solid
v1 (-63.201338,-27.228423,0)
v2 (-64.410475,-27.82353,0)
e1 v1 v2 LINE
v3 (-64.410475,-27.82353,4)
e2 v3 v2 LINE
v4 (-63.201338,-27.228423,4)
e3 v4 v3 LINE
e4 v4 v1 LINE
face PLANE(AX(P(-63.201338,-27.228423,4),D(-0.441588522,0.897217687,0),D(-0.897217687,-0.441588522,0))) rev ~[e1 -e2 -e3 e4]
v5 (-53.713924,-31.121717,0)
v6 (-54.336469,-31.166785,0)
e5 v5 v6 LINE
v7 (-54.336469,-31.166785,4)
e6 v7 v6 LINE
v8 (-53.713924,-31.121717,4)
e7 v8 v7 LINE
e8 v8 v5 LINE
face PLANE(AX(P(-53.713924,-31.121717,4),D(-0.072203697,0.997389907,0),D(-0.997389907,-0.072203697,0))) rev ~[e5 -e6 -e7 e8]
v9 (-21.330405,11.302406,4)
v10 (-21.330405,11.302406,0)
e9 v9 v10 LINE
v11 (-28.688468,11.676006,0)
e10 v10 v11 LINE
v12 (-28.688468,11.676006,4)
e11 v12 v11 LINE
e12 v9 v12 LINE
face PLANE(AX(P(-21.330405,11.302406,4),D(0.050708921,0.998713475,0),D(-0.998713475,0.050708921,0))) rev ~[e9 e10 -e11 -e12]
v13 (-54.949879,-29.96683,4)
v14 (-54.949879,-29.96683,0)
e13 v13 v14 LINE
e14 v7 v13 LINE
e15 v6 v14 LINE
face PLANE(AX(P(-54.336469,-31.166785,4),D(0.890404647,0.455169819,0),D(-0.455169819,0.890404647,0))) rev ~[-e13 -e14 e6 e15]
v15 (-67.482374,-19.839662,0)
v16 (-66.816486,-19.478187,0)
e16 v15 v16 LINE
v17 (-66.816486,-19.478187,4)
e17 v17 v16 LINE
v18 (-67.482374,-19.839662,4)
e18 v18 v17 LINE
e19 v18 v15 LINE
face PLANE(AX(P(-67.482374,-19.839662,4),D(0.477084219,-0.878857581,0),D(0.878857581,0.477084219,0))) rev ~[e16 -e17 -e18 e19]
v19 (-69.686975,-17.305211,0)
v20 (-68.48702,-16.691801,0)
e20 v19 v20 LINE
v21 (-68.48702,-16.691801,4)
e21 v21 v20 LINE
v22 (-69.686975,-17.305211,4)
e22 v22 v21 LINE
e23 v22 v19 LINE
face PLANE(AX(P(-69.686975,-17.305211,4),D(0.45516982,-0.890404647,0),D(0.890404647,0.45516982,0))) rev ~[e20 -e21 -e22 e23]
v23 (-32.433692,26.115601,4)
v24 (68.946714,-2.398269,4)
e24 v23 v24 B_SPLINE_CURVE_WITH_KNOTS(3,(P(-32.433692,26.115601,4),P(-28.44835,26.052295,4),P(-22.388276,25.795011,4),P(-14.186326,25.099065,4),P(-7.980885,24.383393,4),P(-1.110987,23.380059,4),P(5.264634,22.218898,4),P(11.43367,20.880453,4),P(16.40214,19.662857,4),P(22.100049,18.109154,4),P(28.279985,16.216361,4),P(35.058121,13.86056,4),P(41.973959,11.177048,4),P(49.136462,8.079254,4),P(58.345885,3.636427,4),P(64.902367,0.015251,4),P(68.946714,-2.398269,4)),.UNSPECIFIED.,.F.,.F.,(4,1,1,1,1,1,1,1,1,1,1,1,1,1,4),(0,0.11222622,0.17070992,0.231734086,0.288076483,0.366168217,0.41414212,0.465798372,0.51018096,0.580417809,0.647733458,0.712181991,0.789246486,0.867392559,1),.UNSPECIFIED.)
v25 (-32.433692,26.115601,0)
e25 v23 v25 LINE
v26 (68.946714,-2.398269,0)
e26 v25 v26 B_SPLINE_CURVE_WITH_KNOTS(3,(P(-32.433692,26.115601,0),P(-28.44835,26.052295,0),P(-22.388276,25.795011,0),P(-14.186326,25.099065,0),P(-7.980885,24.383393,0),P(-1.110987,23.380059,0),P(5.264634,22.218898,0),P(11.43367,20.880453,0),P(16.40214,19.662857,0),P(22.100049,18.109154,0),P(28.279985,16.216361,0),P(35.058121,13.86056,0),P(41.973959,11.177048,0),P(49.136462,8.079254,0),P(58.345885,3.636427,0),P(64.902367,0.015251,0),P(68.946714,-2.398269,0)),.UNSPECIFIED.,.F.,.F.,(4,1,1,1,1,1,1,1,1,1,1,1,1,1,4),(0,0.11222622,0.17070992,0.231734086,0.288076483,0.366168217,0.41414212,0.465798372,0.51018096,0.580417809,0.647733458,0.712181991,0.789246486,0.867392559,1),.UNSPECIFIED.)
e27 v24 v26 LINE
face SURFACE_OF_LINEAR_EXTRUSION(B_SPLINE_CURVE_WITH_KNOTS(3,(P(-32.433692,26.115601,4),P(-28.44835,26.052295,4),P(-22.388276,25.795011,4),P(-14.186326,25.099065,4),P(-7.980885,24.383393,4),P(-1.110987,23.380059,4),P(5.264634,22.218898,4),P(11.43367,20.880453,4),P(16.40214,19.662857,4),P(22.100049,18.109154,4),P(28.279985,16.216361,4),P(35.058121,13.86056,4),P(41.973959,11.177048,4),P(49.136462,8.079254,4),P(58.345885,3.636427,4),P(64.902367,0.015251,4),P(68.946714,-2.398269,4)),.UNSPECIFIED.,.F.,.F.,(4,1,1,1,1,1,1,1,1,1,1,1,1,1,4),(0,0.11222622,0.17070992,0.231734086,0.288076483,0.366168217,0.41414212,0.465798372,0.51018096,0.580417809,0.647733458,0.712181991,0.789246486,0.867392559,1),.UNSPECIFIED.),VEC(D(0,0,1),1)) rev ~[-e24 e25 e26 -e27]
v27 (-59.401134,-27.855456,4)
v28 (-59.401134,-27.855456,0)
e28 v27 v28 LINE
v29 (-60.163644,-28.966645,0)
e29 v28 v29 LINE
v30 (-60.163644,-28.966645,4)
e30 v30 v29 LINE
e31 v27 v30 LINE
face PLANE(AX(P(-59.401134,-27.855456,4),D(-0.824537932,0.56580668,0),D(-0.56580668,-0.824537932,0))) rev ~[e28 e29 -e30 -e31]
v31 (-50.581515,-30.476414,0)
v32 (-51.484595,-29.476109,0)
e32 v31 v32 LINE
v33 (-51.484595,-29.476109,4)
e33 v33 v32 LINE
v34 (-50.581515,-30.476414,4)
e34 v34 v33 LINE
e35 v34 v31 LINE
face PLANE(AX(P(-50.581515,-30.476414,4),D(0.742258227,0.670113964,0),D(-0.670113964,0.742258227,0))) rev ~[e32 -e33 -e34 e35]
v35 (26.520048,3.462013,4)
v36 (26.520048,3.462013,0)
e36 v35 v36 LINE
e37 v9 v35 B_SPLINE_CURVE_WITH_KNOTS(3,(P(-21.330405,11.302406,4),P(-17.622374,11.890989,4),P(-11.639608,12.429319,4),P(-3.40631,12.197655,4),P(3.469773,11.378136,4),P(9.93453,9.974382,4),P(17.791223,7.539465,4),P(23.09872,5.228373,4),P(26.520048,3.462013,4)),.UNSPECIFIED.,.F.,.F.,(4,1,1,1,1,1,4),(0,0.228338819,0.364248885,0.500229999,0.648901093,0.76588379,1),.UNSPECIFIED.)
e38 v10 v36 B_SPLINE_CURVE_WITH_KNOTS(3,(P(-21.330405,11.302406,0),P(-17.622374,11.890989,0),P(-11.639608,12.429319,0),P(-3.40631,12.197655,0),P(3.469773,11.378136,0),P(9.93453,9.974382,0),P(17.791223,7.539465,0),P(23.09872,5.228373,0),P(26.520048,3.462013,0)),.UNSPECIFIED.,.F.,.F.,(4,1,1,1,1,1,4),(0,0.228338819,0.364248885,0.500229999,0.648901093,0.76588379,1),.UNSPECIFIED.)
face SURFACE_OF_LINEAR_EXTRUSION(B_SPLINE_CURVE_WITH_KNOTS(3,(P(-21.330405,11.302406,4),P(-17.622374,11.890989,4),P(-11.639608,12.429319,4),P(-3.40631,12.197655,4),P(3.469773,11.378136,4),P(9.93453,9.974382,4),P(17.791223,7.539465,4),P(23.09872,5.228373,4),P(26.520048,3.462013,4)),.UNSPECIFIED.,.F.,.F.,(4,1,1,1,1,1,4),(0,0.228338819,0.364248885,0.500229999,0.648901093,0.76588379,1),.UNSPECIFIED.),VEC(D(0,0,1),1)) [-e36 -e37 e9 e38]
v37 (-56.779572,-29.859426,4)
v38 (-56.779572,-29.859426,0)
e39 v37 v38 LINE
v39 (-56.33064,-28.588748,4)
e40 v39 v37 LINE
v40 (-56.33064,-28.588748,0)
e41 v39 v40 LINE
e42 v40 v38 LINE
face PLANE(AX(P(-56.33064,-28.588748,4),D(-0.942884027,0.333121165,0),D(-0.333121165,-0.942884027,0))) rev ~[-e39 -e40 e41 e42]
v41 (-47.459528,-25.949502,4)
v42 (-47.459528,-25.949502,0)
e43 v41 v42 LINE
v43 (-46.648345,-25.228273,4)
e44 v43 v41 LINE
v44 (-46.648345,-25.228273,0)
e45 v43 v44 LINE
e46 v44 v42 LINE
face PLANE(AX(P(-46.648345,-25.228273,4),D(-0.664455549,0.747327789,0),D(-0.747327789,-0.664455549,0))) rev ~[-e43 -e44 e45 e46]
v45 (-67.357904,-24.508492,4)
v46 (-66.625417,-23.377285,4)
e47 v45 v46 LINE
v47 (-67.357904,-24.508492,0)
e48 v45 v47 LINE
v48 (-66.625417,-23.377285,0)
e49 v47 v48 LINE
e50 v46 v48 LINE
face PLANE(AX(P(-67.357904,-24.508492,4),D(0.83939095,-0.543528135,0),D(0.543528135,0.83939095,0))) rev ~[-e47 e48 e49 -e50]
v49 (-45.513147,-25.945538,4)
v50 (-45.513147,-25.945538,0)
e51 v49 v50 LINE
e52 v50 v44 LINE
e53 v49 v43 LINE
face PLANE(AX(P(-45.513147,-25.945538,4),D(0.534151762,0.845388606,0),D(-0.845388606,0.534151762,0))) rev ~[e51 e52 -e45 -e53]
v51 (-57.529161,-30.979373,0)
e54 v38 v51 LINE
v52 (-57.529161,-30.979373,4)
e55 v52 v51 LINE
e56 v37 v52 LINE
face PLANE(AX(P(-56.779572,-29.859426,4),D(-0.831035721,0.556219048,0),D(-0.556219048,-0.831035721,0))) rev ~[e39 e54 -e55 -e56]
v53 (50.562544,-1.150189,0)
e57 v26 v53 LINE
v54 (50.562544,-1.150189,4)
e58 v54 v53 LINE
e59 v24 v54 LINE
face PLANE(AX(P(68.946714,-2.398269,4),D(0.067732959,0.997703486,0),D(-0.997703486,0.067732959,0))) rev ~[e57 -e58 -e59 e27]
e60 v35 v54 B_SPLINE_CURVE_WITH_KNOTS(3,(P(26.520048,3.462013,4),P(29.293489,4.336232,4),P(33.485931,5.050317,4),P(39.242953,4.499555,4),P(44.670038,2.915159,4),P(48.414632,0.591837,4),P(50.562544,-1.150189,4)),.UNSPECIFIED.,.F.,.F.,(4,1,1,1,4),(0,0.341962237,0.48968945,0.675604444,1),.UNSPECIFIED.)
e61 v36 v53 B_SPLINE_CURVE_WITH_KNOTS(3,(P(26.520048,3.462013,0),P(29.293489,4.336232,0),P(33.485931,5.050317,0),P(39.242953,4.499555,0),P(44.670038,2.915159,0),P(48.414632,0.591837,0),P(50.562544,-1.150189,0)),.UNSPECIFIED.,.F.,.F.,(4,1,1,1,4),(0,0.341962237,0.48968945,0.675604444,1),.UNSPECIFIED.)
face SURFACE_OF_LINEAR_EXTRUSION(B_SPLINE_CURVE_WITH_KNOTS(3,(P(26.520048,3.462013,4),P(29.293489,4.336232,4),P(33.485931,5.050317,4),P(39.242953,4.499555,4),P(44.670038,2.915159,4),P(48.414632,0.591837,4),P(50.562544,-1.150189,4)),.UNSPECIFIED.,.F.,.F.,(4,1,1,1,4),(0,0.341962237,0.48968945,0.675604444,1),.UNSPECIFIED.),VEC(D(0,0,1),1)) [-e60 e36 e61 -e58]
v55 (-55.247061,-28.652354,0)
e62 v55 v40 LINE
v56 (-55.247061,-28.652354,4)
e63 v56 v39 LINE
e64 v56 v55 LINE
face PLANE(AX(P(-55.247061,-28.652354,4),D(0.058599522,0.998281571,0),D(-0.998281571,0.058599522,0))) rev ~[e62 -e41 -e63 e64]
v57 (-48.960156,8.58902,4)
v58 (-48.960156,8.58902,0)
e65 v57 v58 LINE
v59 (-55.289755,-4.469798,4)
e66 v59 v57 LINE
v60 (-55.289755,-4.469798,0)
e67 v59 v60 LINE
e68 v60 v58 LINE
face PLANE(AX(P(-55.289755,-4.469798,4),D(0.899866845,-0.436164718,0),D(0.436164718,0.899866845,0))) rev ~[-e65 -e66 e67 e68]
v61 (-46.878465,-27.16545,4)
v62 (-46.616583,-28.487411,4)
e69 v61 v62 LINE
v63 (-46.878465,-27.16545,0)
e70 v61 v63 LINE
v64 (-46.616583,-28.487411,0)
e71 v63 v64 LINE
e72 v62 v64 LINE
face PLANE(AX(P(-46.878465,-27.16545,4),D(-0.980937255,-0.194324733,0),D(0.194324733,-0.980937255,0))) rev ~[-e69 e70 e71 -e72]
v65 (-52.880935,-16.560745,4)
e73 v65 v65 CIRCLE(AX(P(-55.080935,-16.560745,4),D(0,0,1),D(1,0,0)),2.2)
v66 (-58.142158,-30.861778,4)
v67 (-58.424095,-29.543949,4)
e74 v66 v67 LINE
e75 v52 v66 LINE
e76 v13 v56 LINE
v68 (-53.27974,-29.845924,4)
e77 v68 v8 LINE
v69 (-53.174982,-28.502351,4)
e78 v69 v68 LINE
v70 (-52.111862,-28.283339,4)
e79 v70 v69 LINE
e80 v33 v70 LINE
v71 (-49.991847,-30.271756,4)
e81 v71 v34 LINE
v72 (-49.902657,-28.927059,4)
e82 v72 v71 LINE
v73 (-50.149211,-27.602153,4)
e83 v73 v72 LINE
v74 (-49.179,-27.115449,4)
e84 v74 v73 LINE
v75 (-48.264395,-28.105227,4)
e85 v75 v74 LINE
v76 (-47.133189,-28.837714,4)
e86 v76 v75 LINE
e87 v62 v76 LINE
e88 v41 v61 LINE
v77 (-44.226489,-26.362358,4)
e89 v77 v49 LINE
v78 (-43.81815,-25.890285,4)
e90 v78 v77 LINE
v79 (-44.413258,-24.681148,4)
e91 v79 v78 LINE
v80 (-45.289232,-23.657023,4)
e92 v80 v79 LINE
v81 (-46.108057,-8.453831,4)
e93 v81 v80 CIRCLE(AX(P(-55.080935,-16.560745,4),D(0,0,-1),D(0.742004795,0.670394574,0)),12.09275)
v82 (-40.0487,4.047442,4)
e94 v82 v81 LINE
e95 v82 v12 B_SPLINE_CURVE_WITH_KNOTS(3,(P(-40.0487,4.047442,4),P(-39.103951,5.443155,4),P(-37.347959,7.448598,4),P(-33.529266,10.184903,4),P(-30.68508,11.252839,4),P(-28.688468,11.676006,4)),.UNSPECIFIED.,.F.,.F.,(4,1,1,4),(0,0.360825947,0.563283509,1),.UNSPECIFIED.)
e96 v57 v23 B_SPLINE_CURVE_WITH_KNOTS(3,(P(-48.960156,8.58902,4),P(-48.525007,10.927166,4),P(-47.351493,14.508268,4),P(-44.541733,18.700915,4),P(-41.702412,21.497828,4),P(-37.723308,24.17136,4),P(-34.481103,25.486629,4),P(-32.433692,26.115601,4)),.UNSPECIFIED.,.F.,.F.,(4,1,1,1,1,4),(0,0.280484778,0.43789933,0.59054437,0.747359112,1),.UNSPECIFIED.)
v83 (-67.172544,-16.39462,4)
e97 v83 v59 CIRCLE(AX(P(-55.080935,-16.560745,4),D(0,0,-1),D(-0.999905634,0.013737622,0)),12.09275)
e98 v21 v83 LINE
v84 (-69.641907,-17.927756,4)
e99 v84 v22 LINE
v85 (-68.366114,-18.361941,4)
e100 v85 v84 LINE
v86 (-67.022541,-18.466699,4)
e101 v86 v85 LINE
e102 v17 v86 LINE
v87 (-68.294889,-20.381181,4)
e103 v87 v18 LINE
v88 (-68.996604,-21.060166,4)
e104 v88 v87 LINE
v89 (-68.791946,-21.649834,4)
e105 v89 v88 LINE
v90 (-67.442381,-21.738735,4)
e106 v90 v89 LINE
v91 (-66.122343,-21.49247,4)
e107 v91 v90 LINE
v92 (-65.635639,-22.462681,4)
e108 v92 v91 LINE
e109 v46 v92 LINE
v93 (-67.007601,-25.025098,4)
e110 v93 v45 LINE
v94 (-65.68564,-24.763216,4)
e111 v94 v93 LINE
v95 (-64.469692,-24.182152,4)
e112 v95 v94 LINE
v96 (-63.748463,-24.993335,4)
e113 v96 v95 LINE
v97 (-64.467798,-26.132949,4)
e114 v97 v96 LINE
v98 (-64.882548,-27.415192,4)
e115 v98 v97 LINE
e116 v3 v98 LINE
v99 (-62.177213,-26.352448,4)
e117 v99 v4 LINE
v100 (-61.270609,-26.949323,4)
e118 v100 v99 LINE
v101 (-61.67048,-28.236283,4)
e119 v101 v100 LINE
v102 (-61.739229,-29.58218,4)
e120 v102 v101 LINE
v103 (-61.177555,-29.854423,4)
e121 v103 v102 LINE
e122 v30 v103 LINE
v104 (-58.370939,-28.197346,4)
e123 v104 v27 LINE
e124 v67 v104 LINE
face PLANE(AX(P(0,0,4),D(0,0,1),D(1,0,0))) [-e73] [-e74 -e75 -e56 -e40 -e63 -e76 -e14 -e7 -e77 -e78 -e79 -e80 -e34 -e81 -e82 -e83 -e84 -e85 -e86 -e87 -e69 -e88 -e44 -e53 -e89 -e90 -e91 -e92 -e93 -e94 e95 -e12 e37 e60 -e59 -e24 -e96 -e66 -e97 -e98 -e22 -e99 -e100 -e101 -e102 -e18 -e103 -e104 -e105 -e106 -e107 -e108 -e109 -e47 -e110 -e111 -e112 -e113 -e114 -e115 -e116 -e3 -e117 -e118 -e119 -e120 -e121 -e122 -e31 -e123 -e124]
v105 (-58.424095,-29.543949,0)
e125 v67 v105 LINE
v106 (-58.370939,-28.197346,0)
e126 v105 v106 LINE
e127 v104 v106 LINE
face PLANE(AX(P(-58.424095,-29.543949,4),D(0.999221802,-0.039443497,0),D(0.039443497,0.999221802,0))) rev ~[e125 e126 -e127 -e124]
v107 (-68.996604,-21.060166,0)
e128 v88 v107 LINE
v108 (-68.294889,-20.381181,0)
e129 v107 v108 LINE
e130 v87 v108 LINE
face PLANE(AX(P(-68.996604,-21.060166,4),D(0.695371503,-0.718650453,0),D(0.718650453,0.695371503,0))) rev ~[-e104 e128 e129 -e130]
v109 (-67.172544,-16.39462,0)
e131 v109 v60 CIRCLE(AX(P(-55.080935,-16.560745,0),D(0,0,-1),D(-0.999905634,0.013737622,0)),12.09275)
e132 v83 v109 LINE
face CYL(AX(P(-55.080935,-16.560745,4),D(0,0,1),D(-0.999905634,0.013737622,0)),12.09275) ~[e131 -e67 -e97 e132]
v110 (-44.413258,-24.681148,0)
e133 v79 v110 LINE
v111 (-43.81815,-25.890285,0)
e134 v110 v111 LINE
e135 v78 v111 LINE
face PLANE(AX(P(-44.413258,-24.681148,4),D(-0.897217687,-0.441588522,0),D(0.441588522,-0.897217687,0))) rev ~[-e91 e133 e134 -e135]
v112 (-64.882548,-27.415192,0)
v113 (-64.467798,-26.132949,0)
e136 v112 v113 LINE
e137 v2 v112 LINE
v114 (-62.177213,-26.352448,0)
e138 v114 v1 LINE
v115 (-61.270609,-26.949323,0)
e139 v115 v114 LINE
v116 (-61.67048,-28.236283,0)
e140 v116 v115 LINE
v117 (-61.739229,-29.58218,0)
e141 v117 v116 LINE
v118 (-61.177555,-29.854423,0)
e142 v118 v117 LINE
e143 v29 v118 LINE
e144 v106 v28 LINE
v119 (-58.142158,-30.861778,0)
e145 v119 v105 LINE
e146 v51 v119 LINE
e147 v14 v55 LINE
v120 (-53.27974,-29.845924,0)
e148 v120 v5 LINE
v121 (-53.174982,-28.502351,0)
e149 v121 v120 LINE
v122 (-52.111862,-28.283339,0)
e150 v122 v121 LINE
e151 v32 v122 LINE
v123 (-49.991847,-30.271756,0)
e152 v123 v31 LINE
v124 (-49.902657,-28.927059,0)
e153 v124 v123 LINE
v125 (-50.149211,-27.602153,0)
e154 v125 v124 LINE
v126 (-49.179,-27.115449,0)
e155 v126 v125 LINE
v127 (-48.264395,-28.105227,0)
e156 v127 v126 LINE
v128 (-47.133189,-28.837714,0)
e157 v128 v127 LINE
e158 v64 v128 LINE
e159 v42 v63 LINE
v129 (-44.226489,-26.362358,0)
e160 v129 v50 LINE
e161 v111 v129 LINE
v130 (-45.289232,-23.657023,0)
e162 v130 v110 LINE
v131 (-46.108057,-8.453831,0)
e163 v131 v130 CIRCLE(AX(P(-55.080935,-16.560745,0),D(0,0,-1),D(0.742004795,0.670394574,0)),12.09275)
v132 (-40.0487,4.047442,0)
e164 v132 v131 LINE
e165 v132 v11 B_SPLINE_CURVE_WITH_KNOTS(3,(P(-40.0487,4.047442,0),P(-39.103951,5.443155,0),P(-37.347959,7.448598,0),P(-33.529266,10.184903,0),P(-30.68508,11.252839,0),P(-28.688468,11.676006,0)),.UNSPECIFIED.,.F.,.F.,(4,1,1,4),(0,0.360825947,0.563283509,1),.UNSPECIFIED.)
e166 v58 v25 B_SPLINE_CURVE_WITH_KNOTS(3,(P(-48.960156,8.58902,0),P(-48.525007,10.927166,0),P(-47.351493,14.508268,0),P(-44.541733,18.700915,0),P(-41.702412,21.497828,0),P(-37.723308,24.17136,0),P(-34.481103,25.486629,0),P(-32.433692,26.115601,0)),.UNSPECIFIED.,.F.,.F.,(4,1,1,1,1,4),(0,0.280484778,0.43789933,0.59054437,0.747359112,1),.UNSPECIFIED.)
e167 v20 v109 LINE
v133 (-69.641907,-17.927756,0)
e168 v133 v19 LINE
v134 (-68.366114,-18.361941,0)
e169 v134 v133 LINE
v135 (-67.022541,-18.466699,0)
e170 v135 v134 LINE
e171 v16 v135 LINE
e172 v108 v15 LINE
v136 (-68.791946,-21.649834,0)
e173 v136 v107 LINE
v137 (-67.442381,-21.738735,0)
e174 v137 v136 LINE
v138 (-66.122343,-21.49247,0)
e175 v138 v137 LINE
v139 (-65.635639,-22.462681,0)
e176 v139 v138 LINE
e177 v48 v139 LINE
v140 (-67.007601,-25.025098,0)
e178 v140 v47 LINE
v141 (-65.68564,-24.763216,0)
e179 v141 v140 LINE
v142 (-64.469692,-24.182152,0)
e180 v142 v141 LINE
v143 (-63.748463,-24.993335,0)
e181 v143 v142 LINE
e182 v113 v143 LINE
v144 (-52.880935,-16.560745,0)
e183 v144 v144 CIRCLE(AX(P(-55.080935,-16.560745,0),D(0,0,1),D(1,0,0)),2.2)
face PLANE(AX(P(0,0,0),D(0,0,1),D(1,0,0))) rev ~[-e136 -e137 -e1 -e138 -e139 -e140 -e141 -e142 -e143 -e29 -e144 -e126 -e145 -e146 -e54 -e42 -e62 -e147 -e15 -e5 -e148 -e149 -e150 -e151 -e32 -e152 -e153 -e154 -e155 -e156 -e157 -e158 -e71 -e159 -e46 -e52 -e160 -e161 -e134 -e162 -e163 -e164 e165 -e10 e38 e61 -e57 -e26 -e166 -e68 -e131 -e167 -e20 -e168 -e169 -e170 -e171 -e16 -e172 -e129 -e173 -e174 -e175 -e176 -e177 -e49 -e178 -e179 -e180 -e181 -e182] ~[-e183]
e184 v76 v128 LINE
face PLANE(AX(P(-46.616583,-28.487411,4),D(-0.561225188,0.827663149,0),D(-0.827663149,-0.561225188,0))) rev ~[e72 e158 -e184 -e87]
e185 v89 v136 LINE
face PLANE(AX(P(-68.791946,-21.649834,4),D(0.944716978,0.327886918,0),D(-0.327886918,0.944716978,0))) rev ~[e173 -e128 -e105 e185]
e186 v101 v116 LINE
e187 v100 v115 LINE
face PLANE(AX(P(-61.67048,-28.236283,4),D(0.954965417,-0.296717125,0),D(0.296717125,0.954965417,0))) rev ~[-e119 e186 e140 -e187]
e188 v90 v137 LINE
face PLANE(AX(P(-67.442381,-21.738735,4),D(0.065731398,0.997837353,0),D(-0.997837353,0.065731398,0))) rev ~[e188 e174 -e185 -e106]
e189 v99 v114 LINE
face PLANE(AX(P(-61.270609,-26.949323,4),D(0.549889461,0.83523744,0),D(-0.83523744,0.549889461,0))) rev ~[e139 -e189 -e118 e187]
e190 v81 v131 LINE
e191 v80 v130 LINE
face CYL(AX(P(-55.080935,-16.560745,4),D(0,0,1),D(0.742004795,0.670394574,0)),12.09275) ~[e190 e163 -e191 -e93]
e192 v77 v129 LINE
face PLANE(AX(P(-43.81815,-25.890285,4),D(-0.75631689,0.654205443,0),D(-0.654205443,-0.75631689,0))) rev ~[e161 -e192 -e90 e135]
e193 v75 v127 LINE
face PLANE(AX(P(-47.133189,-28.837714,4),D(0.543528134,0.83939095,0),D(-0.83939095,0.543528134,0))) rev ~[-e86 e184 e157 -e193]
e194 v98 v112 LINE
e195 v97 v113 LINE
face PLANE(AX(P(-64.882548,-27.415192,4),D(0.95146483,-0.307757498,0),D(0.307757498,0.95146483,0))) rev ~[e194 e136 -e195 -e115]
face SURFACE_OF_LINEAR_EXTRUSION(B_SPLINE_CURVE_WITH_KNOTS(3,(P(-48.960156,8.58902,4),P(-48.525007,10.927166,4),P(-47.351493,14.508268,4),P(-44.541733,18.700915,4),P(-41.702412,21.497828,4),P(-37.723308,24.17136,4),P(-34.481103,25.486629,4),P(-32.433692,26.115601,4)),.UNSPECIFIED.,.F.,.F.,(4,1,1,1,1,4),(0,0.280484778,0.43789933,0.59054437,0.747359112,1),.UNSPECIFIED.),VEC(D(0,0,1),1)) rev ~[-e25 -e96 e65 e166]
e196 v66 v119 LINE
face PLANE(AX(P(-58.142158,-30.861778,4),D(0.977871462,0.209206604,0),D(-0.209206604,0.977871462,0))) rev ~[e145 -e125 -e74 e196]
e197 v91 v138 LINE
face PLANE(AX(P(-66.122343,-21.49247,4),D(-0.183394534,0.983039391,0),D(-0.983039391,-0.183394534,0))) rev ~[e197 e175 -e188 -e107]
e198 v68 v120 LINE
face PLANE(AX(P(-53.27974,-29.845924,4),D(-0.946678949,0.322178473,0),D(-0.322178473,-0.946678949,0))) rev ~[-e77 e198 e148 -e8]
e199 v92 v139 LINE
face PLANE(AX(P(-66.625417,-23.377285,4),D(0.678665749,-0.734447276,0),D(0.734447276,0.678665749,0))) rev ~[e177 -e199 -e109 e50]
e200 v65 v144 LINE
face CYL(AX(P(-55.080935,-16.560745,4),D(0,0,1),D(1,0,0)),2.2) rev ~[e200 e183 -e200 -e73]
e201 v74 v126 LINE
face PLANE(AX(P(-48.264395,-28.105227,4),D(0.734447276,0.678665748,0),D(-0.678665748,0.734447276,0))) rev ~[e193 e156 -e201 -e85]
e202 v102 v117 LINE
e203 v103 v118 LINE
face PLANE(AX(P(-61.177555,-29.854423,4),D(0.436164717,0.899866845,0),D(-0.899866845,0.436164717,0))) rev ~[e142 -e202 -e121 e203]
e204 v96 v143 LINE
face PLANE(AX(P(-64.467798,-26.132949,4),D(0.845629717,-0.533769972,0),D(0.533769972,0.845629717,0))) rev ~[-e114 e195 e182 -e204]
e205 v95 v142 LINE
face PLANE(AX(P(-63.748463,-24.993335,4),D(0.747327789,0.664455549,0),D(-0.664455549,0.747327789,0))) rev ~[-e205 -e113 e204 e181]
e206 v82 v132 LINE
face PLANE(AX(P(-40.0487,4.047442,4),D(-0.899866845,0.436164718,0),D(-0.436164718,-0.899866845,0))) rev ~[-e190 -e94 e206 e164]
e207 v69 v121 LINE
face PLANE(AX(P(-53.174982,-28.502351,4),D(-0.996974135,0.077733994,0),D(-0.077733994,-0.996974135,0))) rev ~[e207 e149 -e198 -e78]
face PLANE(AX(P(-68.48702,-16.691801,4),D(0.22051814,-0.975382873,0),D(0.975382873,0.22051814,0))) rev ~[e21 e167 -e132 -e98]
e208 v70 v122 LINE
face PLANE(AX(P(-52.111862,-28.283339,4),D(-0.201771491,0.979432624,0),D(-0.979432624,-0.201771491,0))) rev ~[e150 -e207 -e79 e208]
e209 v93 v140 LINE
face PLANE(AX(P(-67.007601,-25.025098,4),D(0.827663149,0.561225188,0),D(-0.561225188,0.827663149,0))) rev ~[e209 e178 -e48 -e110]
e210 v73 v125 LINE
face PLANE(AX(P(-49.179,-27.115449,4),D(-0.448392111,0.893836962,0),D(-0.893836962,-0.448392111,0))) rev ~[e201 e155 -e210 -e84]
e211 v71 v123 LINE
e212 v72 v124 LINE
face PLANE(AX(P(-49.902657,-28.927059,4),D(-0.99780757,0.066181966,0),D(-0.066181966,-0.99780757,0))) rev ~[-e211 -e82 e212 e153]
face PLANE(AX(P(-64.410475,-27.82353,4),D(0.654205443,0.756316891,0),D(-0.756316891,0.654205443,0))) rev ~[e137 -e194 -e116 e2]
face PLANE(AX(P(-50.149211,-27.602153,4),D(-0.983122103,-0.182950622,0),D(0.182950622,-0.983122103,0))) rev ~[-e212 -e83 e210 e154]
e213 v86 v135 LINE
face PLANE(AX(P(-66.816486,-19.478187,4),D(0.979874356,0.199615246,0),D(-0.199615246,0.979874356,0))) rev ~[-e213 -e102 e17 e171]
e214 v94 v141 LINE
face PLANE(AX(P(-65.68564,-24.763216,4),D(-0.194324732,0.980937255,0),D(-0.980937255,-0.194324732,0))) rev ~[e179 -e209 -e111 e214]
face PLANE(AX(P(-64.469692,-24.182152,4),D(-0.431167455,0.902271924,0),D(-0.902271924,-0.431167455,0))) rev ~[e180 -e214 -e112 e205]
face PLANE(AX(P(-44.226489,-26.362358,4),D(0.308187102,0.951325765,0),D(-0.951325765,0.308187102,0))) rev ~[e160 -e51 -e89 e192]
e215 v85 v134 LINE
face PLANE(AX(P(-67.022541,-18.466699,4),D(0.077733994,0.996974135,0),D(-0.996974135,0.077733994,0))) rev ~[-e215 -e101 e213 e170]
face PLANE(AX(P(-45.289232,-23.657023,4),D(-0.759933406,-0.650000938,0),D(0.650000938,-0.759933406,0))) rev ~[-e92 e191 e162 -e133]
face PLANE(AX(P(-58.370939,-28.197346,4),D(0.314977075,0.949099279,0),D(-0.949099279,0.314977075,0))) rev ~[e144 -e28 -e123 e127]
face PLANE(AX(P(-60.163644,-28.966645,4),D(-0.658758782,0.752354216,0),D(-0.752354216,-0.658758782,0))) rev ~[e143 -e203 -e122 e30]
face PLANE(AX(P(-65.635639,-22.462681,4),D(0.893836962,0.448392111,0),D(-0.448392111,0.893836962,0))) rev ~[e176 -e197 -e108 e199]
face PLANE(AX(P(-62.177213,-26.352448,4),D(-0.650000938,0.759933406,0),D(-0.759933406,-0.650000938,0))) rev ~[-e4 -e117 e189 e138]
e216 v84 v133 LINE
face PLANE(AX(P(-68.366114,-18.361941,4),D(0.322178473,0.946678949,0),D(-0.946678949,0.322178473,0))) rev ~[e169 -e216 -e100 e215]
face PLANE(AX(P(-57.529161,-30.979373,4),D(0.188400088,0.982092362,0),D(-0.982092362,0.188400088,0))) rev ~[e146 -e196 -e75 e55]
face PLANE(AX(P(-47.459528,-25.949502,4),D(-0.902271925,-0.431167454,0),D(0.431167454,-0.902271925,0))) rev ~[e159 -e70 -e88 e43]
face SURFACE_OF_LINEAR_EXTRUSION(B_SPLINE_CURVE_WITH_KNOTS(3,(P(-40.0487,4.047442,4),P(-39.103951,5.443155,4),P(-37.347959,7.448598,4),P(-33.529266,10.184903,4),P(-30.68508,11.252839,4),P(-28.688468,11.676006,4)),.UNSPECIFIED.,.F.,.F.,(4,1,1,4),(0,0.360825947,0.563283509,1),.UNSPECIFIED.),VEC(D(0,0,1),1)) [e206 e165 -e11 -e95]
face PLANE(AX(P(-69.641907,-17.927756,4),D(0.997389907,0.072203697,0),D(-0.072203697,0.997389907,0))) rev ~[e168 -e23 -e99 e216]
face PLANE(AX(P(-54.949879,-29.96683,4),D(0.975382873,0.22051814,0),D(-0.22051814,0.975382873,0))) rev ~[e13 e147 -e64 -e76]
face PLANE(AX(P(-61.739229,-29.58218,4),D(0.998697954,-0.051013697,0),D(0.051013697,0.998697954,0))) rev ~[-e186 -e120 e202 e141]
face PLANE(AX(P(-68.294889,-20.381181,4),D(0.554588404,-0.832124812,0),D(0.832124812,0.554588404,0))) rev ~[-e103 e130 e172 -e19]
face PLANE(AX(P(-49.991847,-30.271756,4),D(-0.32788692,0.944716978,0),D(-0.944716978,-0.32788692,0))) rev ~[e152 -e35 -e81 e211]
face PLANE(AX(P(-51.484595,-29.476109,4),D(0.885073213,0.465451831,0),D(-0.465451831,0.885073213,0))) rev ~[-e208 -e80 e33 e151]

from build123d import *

# Parameters (mm, degrees)
SKETCH1_W           = 150
SKETCH1_H           = 70
BOSS_EXTRUDE2_DEPTH = 4
SKETCH3_W           = 150
SKETCH3_H           = 70
SKETCH3_R           = 2.2
CUT_EXTRUDE2_DEPTH  = 4


with BuildPart() as part:
    # Sketch1 → Boss-Extrude2 (new body)
    with BuildSketch(Plane.XY):
        Rectangle(SKETCH1_W, SKETCH1_H)
    extrude(amount=BOSS_EXTRUDE2_DEPTH)

    # Sketch3 → Cut-Extrude2 (cut)
    # profile 1 of 2: a face of its own
    with BuildSketch(Plane.XY.offset(4)):
        Rectangle(SKETCH3_W, SKETCH3_H)
        with BuildLine():
            Line((-40.048699904, 4.047442221), (-46.108056892, -8.453831345))
            ThreePointArc((-46.108056892, -8.453831345), (-43.005686407, -15.910387786), (-45.28923235, -23.657022831))
            Line((-45.28923235, -23.657022831), (-44.413257795, -24.68114801))
            Line((-44.413257795, -24.68114801), (-43.818150486, -25.890284518))
            Line((-43.818150486, -25.890284518), (-44.226488656, -26.36235802))
            Line((-44.226488656, -26.36235802), (-45.513146968, -25.945538135))
            Line((-45.513146968, -25.945538135), (-46.648345309, -25.228272501))
            Line((-46.648345309, -25.228272501), (-47.459528308, -25.949502265))
            Line((-47.459528308, -25.949502265), (-46.878464963, -27.165450123))
            Line((-46.878464963, -27.165450123), (-46.616583, -28.487411409))
            Line((-46.616583, -28.487411409), (-47.133188997, -28.837713701))
            Line((-47.133188997, -28.837713701), (-48.264395233, -28.105227349))
            Line((-48.264395233, -28.105227349), (-49.178999955, -27.115448583))
            Line((-49.178999955, -27.115448583), (-50.149210562, -27.60215343))
            Line((-50.149210562, -27.60215343), (-49.902656934, -28.927059129))
            Line((-49.902656934, -28.927059129), (-49.991847141, -30.271755716))
            Line((-49.991847141, -30.271755716), (-50.581515119, -30.476414277))
            Line((-50.581515119, -30.476414277), (-51.484595019, -29.476109074))
            Line((-51.484595019, -29.476109074), (-52.111861746, -28.28333908))
            Line((-52.111861746, -28.28333908), (-53.174981712, -28.502350879))
            Line((-53.174981712, -28.502350879), (-53.279740023, -29.845924286))
            Line((-53.279740023, -29.845924286), (-53.713924234, -31.121717324))
            Line((-53.713924234, -31.121717324), (-54.336469297, -31.16678501))
            Line((-54.336469297, -31.16678501), (-54.949879458, -29.966830103))
            Line((-54.949879458, -29.966830103), (-55.247060998, -28.652354186))
            Line((-55.247060998, -28.652354186), (-56.330640455, -28.588747644))
            Line((-56.330640455, -28.588747644), (-56.779571599, -29.859426451))
            Line((-56.779571599, -29.859426451), (-57.529160877, -30.979372753))
            Line((-57.529160877, -30.979372753), (-58.142157607, -30.861778276))
            Line((-58.142157607, -30.861778276), (-58.424095141, -29.543948609))
            Line((-58.424095141, -29.543948609), (-58.370939064, -28.19734613))
            Line((-58.370939064, -28.19734613), (-59.401133862, -27.855455928))
            Line((-59.401133862, -27.855455928), (-60.163643923, -28.966645475))
            Line((-60.163643923, -28.966645475), (-61.177554999, -29.85442255))
            Line((-61.177554999, -29.85442255), (-61.739228681, -29.58217978))
            Line((-61.739228681, -29.58217978), (-61.67048001, -28.236283266))
            Line((-61.67048001, -28.236283266), (-61.270608815, -26.94932296))
            Line((-61.270608815, -26.94932296), (-62.177212881, -26.35244835))
            Line((-62.177212881, -26.35244835), (-63.20133806, -27.228422905))
            Line((-63.20133806, -27.228422905), (-64.410474568, -27.823530214))
            Line((-64.410474568, -27.823530214), (-64.88254807, -27.415192045))
            Line((-64.88254807, -27.415192045), (-64.467798303, -26.132949308))
            Line((-64.467798303, -26.132949308), (-63.748462551, -24.993335391))
            Line((-63.748462551, -24.993335391), (-64.469692315, -24.182152392))
            Line((-64.469692315, -24.182152392), (-65.685640173, -24.763215738))
            Line((-65.685640173, -24.763215738), (-67.007601459, -25.0250977))
            Line((-67.007601459, -25.0250977), (-67.357903751, -24.508491703))
            Line((-67.357903751, -24.508491703), (-66.625417399, -23.377285468))
            Line((-66.625417399, -23.377285468), (-65.635638633, -22.462680745))
            Line((-65.635638633, -22.462680745), (-66.12234348, -21.492470138))
            Line((-66.12234348, -21.492470138), (-67.442381009, -21.7387346))
            Line((-67.442381009, -21.7387346), (-68.791945766, -21.64983356))
            Line((-68.791945766, -21.64983356), (-68.996604326, -21.060165581))
            Line((-68.996604326, -21.060165581), (-68.294889193, -20.381180819))
            Line((-68.294889193, -20.381180819), (-67.482373775, -19.839661539))
            Line((-67.482373775, -19.839661539), (-66.816485533, -19.478186849))
            Line((-66.816485533, -19.478186849), (-67.022540929, -18.466698988))
            Line((-67.022540929, -18.466698988), (-68.366114336, -18.361940677))
            Line((-68.366114336, -18.361940677), (-69.641907373, -17.927756466))
            Line((-69.641907373, -17.927756466), (-69.686975059, -17.305211404))
            Line((-69.686975059, -17.305211404), (-68.487020153, -16.691801242))
            Line((-68.487020153, -16.691801242), (-67.172544236, -16.394619702))
            ThreePointArc((-67.172544236, -16.394619702), (-63.64688388, -8.024989426), (-55.28975466, -4.46979842))
            Line((-55.28975466, -4.46979842), (-48.960156028, 8.589020233))
            add(Edge.make_bspline(
                [(-48.960156028, 8.589020233), (-48.525006522, 10.927165739), (-47.35149279, 14.508267826), (-44.541733346, 18.700915308), (-41.70241199, 21.497827932), (-37.723307758, 24.171360097), (-34.481102631, 25.48662902), (-32.433692057, 26.115600859)],
                knots=[0, 0, 0, 0, 0.280484778, 0.43789933, 0.59054437, 0.747359112, 1, 1, 1, 1], degree=3))
            add(Edge.make_bspline(
                [(-32.433692057, 26.115600859), (-28.448350382, 26.052294796), (-22.388276441, 25.79501109), (-14.18632606, 25.099065372), (-7.980885192, 24.383393074), (-1.110987429, 23.380058501), (5.264634034, 22.218898308), (11.43367036, 20.880453465), (16.402139506, 19.662857342), (22.10004856, 18.109153747), (28.279984557, 16.21636129), (35.058120911, 13.860560362), (41.973959107, 11.177047788), (49.136462176, 8.079253646), (58.345885409, 3.636427486), (64.90236683, 0.015251198), (68.946713794, -2.398269379)],
                knots=[0, 0, 0, 0, 0.11222622, 0.17070992, 0.231734086, 0.288076483, 0.366168217, 0.41414212, 0.465798372, 0.51018096, 0.580417809, 0.647733458, 0.712181991, 0.789246486, 0.867392559, 1, 1, 1, 1], degree=3))
            Line((68.946713794, -2.398269379), (50.562544476, -1.150188957))
            add(Edge.make_bspline(
                [(26.520048265, 3.462013086), (29.293489487, 4.336232341), (33.485930617, 5.05031742), (39.24295286, 4.499555321), (44.670037704, 2.915159356), (48.414632414, 0.591836573), (50.562544476, -1.150188957)],
                knots=[0, 0, 0, 0, 0.341962237, 0.48968945, 0.675604444, 1, 1, 1, 1], degree=3))
            add(Edge.make_bspline(
                [(-21.330405303, 11.302406164), (-17.622374152, 11.890988565), (-11.639608099, 12.429319103), (-3.406309539, 12.197655156), (3.469773129, 11.378136184), (9.934529618, 9.974382339), (17.791223488, 7.5394651), (23.098719892, 5.22837296), (26.520048265, 3.462013086)],
                knots=[0, 0, 0, 0, 0.228338819, 0.364248885, 0.500229999, 0.648901093, 0.76588379, 1, 1, 1, 1], degree=3))
            Line((-21.330405303, 11.302406164), (-28.688467899, 11.676006226))
            add(Edge.make_bspline(
                [(-40.048699904, 4.047442221), (-39.103951171, 5.443155397), (-37.347958886, 7.448598356), (-33.529265799, 10.184902808), (-30.685080402, 11.252838939), (-28.688467899, 11.676006226)],
                knots=[0, 0, 0, 0, 0.360825947, 0.563283509, 1, 1, 1, 1], degree=3))
        make_face(mode=Mode.SUBTRACT)
    # profile 2 of 2: a face of its own
    with BuildSketch(Plane.XY.offset(4)):
        with Locations((-55.080935375, -16.560745325)):
            Circle(SKETCH3_R)
    extrude(amount=-CUT_EXTRUDE2_DEPTH, mode=Mode.SUBTRACT)


solid = part.part
